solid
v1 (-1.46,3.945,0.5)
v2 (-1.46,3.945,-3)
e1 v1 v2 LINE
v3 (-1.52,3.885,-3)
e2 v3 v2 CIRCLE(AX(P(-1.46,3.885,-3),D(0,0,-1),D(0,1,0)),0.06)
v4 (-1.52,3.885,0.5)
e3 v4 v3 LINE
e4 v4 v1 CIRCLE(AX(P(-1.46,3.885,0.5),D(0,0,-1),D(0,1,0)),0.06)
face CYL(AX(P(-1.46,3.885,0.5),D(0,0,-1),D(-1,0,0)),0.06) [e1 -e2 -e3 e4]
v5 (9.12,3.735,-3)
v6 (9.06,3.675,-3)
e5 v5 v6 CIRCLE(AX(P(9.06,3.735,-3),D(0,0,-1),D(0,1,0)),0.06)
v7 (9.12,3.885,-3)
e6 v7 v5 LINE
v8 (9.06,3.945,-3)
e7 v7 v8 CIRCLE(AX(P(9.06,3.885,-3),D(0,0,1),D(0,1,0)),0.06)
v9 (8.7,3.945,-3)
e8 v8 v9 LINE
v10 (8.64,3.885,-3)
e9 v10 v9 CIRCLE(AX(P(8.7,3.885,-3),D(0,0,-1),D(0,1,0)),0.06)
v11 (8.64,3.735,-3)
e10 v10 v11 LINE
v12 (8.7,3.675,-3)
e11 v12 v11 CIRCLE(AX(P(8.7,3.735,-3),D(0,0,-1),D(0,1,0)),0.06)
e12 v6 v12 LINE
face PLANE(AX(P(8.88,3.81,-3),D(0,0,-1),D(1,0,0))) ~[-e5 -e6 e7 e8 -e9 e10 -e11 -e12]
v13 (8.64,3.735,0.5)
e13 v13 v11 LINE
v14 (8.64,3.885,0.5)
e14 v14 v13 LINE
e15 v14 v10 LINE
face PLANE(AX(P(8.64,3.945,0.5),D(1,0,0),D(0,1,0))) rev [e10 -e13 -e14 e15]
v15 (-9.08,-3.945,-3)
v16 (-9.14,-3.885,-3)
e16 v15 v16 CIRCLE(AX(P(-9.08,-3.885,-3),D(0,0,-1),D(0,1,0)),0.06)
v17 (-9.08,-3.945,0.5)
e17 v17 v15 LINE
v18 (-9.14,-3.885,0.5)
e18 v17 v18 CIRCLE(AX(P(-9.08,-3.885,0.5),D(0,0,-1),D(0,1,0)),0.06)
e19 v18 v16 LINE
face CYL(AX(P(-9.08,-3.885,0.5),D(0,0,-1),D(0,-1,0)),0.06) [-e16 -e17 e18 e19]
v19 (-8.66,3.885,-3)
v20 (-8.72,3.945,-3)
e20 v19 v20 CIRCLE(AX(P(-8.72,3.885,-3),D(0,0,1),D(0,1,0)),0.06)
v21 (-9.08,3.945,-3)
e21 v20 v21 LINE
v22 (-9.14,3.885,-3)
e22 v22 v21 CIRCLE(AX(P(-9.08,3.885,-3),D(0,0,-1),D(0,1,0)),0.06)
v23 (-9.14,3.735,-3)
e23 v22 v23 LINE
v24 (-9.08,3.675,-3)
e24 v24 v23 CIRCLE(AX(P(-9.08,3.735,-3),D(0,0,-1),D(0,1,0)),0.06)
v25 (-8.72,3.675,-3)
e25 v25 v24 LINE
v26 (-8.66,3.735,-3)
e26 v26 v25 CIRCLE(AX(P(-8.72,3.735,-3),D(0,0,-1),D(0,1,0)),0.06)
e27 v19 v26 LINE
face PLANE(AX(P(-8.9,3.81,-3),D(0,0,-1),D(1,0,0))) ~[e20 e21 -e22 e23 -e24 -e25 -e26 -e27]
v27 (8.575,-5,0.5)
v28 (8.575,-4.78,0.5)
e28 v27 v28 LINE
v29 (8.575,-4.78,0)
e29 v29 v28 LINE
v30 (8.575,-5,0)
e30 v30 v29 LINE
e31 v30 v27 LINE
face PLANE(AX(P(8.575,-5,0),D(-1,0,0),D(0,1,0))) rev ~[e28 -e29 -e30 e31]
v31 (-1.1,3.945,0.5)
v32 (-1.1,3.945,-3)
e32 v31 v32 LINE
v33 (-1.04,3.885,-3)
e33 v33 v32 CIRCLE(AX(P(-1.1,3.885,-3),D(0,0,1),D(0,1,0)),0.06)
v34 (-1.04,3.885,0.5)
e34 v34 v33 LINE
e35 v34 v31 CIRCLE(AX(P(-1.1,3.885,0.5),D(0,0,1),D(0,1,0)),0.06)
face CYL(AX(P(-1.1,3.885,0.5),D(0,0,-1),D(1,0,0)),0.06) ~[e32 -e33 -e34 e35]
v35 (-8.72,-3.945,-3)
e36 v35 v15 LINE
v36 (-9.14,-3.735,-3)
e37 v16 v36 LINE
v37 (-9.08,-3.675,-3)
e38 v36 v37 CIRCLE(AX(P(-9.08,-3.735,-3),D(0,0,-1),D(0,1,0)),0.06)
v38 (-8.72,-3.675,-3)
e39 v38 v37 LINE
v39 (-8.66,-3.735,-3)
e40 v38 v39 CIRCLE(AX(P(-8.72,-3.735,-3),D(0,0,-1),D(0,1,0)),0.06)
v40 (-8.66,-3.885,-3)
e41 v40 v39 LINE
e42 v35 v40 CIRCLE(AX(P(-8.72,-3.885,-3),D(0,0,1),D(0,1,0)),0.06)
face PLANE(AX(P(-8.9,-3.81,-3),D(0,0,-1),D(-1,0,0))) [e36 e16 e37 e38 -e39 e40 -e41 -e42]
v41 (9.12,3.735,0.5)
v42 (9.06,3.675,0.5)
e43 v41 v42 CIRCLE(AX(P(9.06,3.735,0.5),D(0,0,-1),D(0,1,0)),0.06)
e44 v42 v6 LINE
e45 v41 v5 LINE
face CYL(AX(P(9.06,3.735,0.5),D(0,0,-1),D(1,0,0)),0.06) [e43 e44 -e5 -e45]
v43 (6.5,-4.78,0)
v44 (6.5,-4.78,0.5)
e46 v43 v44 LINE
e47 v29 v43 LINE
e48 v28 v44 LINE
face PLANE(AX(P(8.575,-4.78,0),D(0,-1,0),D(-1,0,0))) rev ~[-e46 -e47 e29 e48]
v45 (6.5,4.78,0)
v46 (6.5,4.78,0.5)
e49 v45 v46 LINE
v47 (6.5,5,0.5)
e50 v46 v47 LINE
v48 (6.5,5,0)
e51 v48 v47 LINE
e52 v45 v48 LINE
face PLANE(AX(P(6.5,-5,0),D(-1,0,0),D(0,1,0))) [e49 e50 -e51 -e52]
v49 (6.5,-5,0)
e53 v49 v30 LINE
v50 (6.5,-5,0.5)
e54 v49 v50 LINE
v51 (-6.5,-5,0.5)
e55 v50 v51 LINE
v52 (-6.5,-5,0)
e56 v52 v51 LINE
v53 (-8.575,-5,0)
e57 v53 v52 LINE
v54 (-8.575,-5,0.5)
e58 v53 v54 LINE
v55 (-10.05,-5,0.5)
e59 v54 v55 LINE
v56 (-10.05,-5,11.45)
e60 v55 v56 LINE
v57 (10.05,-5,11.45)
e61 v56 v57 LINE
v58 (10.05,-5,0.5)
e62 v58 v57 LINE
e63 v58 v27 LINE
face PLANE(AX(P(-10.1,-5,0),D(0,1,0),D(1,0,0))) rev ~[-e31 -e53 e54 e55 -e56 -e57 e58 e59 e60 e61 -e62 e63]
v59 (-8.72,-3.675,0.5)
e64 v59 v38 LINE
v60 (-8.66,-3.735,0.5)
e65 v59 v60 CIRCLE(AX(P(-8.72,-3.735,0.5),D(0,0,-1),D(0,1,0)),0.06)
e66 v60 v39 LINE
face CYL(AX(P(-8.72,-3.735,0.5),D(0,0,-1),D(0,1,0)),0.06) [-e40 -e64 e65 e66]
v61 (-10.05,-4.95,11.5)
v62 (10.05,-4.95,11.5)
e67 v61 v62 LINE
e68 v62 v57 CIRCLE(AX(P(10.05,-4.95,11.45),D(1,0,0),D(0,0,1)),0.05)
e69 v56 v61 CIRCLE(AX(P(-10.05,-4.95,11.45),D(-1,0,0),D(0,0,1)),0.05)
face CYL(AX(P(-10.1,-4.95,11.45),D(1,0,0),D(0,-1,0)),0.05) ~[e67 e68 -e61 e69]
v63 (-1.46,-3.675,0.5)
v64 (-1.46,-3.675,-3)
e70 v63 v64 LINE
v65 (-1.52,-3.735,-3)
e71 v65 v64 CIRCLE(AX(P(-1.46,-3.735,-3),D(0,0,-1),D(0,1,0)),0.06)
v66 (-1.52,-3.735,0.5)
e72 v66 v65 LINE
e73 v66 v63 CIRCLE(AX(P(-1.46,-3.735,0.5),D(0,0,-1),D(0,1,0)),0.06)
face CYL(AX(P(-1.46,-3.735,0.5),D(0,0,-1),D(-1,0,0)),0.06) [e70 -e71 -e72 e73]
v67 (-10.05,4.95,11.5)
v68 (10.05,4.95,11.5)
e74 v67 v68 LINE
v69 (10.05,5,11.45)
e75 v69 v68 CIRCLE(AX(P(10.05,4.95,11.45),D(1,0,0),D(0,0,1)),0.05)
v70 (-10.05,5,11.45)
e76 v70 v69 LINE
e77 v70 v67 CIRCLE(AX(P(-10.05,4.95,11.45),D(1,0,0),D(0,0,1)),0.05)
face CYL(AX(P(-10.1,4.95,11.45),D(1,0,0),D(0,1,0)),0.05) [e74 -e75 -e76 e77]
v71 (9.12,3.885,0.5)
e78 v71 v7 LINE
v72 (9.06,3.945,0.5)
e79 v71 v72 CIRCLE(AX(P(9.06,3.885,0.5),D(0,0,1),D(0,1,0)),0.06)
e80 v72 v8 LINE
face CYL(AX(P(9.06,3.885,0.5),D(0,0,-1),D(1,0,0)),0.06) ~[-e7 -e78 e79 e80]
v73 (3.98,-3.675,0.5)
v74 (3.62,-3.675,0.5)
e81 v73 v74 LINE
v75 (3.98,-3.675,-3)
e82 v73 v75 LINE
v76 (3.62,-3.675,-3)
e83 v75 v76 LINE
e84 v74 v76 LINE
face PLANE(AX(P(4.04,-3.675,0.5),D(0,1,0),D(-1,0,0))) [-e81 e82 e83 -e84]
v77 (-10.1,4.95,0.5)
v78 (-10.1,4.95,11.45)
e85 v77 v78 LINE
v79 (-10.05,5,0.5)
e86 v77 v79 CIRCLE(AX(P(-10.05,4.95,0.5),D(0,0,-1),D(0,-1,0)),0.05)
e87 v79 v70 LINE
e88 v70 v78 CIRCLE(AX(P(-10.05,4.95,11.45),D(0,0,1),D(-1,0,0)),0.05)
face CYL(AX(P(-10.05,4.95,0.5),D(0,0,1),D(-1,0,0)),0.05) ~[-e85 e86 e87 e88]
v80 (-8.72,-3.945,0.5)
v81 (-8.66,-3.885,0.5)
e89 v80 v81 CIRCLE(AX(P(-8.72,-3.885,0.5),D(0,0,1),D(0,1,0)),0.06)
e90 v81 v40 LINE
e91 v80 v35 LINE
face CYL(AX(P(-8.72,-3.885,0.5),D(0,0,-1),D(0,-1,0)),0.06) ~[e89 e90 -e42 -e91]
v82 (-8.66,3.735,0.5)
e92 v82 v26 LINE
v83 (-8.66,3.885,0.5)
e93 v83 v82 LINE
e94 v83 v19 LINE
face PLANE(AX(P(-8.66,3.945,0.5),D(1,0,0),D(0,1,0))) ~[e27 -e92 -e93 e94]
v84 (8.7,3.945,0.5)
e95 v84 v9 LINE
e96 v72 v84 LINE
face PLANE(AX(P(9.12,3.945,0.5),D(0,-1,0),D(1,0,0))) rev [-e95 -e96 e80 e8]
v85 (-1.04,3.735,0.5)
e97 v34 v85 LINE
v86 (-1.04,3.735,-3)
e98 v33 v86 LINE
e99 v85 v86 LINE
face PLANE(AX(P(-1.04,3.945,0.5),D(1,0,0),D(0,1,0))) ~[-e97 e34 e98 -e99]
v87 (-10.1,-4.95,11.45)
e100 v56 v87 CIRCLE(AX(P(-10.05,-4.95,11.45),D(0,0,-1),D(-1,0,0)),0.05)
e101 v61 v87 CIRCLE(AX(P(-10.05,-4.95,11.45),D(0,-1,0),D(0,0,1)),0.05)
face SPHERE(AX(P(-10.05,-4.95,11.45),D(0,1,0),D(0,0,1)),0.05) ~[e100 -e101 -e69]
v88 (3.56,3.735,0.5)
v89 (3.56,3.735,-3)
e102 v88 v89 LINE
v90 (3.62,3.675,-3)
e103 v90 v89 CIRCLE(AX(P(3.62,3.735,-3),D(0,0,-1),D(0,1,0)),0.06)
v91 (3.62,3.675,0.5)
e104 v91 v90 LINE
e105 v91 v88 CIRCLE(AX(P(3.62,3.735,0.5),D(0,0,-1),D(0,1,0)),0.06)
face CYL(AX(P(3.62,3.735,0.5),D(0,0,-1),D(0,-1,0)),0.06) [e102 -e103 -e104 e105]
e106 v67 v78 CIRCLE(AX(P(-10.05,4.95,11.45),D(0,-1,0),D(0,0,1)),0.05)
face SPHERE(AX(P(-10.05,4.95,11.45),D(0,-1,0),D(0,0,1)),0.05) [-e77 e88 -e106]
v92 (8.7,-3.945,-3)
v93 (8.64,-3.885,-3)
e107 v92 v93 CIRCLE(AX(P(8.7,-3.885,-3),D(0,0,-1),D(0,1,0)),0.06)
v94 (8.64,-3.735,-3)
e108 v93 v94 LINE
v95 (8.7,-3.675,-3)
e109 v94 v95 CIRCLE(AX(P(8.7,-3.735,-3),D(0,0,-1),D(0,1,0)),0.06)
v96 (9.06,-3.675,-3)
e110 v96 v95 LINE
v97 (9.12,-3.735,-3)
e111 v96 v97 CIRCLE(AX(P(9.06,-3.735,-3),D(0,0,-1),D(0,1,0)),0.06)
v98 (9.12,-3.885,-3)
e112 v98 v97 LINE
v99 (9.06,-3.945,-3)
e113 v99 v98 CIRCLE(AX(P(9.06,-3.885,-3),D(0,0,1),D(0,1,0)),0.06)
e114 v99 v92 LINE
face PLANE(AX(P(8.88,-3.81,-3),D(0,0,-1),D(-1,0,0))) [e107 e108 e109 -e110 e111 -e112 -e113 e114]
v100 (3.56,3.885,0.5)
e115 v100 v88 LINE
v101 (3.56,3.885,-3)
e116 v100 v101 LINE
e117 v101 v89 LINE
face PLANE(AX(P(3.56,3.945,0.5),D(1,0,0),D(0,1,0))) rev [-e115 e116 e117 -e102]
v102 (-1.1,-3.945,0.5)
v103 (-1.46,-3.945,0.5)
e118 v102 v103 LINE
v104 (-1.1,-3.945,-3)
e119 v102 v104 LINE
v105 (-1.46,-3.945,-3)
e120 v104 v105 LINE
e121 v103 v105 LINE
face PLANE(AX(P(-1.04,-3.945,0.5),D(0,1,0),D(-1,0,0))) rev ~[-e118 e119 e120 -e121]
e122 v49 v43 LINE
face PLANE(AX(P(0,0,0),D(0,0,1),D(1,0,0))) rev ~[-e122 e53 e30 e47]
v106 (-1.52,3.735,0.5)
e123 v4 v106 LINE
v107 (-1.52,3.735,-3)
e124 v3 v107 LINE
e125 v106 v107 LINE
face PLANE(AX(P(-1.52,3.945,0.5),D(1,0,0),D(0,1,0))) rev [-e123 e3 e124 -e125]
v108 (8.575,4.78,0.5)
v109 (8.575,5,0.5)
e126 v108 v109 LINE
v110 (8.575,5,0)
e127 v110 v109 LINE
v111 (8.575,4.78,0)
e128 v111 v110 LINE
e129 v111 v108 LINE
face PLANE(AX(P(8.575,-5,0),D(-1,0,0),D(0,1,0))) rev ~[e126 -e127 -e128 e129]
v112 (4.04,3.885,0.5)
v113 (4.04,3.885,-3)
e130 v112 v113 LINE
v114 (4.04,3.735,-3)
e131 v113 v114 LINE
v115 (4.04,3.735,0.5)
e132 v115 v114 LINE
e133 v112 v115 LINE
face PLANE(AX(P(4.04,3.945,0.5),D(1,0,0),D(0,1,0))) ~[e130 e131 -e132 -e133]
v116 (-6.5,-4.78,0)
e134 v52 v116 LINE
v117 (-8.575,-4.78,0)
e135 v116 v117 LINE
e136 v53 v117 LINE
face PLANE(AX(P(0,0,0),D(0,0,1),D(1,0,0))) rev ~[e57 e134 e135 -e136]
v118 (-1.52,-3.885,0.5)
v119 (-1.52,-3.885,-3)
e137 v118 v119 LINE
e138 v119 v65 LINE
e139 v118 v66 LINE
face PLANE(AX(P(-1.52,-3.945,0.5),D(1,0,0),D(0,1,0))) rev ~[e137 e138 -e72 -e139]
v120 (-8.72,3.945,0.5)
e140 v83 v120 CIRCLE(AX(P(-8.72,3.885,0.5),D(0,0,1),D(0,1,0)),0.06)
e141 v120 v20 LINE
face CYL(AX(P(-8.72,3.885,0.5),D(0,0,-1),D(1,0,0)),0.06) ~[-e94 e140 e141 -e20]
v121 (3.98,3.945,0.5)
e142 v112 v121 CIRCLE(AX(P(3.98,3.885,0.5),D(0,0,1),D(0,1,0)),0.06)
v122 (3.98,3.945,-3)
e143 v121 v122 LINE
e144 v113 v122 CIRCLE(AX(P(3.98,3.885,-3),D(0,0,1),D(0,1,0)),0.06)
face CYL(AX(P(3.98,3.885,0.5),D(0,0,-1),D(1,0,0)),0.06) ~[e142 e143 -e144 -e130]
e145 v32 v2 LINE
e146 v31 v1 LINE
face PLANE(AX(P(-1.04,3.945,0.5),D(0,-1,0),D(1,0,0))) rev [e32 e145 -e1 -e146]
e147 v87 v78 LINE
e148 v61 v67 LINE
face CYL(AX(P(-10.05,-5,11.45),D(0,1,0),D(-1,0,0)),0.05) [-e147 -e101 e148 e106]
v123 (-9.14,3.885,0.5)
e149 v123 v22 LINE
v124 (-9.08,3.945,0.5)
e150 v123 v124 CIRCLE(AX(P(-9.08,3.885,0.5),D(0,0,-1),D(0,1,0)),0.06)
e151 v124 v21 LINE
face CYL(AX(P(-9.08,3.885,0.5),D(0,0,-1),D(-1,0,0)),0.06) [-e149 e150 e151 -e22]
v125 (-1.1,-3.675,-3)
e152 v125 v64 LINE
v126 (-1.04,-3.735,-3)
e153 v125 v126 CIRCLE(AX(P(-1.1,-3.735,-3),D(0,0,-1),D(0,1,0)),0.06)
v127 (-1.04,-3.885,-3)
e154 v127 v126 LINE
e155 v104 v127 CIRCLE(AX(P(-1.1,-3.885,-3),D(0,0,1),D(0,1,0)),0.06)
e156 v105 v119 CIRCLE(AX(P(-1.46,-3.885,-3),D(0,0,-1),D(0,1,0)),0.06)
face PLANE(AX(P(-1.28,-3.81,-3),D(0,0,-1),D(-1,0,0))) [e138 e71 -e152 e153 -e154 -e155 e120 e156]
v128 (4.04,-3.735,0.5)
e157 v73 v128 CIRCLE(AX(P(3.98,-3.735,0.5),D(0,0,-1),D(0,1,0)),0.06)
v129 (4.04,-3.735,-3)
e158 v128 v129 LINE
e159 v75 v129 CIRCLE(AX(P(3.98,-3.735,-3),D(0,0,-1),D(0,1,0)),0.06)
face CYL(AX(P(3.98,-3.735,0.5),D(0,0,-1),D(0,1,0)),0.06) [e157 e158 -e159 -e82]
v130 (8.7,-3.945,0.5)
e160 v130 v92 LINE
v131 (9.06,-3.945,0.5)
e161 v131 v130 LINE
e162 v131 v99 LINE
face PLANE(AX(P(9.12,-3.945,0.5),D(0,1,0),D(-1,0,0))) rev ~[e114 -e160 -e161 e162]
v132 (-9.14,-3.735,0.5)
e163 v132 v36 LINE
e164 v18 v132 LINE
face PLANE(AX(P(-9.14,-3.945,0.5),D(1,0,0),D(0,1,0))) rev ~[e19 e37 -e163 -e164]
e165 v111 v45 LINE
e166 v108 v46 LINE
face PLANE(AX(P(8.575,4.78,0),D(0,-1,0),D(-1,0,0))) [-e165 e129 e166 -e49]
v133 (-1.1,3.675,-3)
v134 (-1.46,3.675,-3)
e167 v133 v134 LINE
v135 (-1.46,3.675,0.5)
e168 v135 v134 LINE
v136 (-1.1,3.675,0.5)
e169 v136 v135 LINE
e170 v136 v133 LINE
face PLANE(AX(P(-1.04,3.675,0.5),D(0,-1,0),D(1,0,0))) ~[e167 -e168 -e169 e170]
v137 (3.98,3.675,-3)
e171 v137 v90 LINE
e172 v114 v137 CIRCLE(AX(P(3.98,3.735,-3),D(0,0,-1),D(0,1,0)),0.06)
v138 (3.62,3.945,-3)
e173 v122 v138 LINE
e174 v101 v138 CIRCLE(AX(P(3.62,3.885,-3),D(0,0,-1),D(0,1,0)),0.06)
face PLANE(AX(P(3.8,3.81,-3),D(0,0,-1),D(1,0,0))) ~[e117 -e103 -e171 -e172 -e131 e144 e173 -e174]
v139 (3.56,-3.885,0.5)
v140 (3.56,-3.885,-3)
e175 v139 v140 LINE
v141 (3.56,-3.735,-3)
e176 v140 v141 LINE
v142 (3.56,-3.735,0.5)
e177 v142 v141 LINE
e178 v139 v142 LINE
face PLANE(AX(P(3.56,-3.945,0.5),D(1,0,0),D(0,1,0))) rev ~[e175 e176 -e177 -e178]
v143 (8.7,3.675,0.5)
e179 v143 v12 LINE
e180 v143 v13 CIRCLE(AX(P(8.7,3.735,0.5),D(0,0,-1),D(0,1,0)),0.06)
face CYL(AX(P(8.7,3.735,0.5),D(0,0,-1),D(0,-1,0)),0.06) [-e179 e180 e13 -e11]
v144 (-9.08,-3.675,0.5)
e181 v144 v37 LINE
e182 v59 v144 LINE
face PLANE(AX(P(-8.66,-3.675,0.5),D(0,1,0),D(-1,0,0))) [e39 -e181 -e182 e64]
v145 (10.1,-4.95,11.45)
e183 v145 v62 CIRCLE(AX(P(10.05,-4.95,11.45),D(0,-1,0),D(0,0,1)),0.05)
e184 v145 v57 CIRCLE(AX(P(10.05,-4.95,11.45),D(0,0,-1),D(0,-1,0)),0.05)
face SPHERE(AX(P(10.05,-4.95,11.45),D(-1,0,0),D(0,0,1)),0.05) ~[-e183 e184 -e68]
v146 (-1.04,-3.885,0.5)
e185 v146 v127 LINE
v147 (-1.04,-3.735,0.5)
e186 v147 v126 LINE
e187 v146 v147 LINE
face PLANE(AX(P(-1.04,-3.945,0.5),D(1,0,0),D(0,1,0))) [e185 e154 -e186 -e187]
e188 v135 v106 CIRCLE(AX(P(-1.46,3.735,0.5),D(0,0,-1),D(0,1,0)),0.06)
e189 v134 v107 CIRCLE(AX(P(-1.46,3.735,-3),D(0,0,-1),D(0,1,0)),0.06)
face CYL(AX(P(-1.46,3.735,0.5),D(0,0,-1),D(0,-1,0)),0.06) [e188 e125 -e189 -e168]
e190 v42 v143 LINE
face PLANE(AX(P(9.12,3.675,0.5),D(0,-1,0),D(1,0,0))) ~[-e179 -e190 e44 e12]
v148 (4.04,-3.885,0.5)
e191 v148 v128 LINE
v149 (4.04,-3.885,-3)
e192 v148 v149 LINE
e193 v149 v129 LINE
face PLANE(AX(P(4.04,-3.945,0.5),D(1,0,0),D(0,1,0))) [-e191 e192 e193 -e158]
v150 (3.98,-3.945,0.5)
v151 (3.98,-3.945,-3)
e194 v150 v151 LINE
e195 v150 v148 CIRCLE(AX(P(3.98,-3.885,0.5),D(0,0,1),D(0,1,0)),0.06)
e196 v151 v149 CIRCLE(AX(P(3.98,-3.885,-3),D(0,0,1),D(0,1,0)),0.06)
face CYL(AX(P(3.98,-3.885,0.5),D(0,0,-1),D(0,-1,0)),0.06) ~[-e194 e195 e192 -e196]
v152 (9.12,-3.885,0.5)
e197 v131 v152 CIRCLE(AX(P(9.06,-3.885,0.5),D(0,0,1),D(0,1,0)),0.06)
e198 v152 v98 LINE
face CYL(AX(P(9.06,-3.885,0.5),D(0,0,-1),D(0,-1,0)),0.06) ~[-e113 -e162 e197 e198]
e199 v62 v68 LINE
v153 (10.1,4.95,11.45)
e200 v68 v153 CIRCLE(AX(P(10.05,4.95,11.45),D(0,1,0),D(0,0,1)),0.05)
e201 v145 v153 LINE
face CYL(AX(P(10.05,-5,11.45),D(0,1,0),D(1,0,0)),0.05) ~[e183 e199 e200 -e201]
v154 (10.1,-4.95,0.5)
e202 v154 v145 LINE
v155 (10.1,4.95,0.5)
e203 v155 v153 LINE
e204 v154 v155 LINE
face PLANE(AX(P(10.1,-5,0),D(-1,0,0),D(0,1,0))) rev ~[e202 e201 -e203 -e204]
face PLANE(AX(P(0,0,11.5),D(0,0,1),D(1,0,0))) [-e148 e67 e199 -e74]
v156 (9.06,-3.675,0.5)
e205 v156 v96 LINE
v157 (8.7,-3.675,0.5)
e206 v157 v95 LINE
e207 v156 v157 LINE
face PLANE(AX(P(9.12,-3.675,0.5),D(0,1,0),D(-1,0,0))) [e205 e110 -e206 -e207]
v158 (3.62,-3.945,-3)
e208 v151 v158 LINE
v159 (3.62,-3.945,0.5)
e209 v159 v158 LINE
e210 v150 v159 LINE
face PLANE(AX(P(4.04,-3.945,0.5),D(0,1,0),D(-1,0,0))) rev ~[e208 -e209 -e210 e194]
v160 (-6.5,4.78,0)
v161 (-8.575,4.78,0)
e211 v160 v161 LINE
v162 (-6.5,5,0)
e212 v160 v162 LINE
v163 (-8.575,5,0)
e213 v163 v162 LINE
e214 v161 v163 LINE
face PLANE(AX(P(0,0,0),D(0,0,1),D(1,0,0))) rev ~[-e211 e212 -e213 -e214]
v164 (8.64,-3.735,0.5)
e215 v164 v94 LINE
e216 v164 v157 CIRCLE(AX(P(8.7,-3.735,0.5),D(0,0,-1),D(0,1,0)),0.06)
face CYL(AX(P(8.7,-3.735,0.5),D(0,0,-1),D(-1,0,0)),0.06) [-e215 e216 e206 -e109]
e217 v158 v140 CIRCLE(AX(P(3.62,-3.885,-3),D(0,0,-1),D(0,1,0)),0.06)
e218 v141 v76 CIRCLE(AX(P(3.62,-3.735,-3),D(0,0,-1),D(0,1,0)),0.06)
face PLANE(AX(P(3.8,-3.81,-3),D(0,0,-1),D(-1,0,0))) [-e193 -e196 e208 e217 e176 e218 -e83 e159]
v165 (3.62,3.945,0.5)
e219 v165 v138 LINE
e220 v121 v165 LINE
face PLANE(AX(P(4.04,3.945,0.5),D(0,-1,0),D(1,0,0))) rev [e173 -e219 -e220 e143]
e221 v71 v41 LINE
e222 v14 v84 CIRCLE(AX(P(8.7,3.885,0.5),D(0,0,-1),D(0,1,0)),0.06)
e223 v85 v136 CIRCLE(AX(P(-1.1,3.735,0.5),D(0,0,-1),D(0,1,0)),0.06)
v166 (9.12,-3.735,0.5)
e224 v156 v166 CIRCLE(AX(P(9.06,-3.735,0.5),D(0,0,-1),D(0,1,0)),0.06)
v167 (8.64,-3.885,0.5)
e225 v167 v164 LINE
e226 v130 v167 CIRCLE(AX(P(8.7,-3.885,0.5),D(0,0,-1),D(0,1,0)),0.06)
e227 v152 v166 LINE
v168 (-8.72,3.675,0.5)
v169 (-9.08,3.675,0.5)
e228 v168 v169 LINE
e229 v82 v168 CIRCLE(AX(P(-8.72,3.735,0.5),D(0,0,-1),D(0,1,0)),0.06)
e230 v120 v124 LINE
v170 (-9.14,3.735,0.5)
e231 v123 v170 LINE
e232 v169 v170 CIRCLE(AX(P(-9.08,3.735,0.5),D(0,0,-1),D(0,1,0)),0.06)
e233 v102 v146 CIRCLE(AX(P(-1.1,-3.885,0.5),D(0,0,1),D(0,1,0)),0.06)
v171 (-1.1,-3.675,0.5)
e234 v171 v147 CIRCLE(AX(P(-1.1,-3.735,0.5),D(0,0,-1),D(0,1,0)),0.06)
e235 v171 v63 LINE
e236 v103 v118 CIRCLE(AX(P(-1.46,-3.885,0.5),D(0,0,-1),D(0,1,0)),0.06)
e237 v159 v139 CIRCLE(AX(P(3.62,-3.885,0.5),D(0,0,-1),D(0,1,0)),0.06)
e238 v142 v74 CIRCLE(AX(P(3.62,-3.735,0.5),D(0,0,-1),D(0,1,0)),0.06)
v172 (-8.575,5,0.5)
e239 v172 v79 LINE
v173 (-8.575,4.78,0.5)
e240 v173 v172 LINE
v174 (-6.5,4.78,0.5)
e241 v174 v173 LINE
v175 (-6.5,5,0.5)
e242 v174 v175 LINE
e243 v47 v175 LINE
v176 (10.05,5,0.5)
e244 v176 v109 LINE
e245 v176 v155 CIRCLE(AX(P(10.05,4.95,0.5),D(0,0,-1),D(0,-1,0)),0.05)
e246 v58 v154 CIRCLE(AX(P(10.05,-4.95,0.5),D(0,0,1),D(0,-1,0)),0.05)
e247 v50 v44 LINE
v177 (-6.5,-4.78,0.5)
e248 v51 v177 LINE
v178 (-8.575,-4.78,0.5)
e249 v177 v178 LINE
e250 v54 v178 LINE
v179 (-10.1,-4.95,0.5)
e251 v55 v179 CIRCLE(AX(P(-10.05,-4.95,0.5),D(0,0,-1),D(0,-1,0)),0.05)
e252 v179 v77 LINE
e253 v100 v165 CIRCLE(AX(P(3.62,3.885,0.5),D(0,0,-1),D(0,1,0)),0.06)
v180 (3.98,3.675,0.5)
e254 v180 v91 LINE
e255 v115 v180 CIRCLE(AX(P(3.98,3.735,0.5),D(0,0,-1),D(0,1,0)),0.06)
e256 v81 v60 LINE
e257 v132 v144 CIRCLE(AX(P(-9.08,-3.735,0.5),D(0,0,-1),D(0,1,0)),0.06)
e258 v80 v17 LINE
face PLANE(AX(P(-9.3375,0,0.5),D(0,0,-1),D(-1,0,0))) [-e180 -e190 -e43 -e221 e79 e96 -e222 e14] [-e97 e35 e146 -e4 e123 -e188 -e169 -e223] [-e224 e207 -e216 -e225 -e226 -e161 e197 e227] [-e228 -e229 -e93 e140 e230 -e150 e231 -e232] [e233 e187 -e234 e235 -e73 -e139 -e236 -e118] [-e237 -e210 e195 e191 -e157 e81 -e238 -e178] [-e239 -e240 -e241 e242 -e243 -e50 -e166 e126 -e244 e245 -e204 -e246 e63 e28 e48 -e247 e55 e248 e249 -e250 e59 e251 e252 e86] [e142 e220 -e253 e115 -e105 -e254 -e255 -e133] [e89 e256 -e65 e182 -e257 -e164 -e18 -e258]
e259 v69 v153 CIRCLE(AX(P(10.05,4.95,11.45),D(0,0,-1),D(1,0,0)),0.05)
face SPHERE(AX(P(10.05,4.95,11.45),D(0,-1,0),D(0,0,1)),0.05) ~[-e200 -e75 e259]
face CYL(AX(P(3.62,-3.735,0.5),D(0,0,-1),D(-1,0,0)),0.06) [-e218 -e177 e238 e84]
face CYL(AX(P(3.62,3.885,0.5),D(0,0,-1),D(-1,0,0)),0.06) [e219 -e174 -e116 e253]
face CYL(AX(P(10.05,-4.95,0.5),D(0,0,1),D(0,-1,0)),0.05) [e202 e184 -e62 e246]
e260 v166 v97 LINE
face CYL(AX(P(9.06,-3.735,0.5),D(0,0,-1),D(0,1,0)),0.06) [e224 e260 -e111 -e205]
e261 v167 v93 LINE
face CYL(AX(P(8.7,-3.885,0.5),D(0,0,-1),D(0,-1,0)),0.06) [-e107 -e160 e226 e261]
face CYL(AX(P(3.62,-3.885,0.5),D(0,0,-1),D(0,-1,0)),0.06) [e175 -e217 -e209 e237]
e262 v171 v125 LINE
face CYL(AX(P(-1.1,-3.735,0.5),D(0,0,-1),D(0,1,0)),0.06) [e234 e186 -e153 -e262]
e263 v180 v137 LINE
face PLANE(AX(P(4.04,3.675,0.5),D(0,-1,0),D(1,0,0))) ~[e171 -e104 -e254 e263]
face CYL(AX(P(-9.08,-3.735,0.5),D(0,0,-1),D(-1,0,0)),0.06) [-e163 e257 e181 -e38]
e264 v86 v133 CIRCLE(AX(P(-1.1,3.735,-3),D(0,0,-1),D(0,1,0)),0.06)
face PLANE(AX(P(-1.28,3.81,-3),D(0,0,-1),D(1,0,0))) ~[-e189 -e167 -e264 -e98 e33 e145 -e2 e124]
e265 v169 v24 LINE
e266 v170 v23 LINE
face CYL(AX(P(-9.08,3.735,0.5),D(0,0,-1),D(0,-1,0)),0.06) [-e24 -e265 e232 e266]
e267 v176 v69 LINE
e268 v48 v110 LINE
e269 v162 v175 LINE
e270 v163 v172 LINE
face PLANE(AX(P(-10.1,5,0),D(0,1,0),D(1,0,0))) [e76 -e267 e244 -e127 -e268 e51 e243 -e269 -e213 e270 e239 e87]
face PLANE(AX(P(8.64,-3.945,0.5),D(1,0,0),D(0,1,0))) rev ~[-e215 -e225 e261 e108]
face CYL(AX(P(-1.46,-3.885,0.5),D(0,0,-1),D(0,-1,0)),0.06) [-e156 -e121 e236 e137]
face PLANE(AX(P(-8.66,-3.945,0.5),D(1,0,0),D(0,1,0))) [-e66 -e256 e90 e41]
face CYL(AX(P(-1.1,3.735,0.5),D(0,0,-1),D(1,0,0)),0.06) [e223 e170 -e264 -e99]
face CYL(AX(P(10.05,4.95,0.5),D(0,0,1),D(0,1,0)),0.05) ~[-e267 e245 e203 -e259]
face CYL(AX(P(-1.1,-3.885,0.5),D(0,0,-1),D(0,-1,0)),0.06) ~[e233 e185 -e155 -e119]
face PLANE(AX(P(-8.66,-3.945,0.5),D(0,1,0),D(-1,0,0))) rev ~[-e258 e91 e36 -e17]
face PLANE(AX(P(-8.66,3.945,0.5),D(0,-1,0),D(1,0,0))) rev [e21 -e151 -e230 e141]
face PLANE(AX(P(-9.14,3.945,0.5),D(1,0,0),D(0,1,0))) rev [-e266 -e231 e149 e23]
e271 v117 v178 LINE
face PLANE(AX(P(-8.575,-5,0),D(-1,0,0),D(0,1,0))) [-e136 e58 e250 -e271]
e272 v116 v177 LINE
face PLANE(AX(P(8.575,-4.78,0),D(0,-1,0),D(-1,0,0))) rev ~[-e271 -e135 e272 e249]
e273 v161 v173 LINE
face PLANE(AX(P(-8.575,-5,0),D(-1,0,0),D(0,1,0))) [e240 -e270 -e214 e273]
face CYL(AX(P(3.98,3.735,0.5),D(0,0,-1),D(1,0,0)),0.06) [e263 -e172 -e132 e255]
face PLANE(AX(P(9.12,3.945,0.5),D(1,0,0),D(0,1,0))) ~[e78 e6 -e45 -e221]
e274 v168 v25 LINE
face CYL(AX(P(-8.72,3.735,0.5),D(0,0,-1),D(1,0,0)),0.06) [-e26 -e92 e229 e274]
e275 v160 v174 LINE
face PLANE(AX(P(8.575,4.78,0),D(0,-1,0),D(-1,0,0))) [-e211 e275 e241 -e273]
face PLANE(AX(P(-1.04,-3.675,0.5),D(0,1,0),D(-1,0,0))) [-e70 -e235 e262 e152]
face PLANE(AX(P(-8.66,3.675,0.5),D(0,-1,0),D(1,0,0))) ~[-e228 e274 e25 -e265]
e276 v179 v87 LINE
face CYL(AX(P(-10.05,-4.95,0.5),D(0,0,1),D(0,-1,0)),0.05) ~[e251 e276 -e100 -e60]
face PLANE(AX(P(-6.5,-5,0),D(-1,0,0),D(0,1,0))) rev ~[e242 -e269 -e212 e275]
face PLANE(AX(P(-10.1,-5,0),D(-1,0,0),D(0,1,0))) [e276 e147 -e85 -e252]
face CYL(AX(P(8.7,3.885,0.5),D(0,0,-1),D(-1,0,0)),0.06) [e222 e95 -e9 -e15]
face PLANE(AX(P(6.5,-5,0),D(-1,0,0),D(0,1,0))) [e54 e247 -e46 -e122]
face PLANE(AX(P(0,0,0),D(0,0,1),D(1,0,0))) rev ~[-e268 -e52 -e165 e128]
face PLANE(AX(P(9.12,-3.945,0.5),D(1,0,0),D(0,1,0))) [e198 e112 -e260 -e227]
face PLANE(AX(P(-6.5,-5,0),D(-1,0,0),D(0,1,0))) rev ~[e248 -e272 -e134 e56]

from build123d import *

# Parameters (mm, degrees)
SKETCH1_W            = 20.2
SKETCH1_H            = 10
BOSS_EXTRUDE1_DEPTH  = 11.5
SKETCH2_W            = 13
SKETCH2_H            = 10
SKETCH2_W_2          = 1.525
CUT_EXTRUDE1_DEPTH   = 0.5
SKETCH3_W            = 17.15
SKETCH3_H            = 9.56
CUT_EXTRUDE2_DEPTH   = 0.5
SKETCH4_W            = 0.48
SKETCH4_H            = 0.27
BOSS_EXTRUDE2_DEPTH  = 3.5
FILLET1_R            = 0.06
FILLET1_OF_MIRROR1_R = 0.06
FILLET2_R            = 0.05


with BuildPart() as part:
    # Sketch1 → Boss-Extrude1 (new body)
    with BuildSketch(Plane.XY):
        Rectangle(SKETCH1_W, SKETCH1_H)
    extrude(amount=BOSS_EXTRUDE1_DEPTH)

    # Sketch2 → Cut-Extrude1 (cut)
    with BuildSketch(Plane(origin=(0, 0, 0), x_dir=(-1, 0, 0), z_dir=(0, 0, -1))):
        Rectangle(SKETCH2_W, SKETCH2_H)
        with Locations((-9.3375, 0)):
            Rectangle(SKETCH2_W_2, SKETCH2_H)
        with Locations((9.3375, 0)):
            Rectangle(SKETCH2_W_2, SKETCH2_H)
    extrude(amount=-CUT_EXTRUDE1_DEPTH, mode=Mode.SUBTRACT)

    # Sketch3 → Cut-Extrude2 (cut)
    with BuildSketch(Plane(origin=(0, 0, 0), x_dir=(-1, 0, 0), z_dir=(0, 0, -1))):
        Rectangle(SKETCH3_W, SKETCH3_H)
    extrude(amount=-CUT_EXTRUDE2_DEPTH, mode=Mode.SUBTRACT)

    # Sketch4 → Boss-Extrude2 (add)
    with BuildSketch(Plane(origin=(0, 0, 0.5), x_dir=(-1, 0, 0), z_dir=(0, 0, -1))):
        with Locations((8.9, -3.81)):
            Rectangle(SKETCH4_W, SKETCH4_H)
        with Locations((1.28, -3.81)):
            Rectangle(SKETCH4_W, SKETCH4_H)
        with Locations((-3.8, -3.81)):
            Rectangle(SKETCH4_W, SKETCH4_H)
        with Locations((-8.88, -3.81)):
            Rectangle(SKETCH4_W, SKETCH4_H)
    boss_extrude2 = extrude(amount=BOSS_EXTRUDE2_DEPTH)

    # Fillet1
    fillet1_edges = [part.edges().sort_by_distance(p)[0] for p in [
        (-1.52, -3.675, -1.25),
        (-1.52, -3.945, -1.25),
        (-1.04, -3.945, -1.25),
        (-1.04, -3.675, -1.25),
        (3.56, -3.675, -1.25),
        (3.56, -3.945, -1.25),
        (4.04, -3.945, -1.25),
        (4.04, -3.675, -1.25),
        (8.64, -3.675, -1.25),
        (8.64, -3.945, -1.25),
        (9.12, -3.945, -1.25),
        (9.12, -3.675, -1.25),
        (-9.14, -3.675, -1.25),
        (-9.14, -3.945, -1.25),
        (-8.66, -3.945, -1.25),
        (-8.66, -3.675, -1.25),
    ]]
    fillet(fillet1_edges, radius=FILLET1_R)

    # Mirror1: Boss-Extrude2 across plane
    add(boss_extrude2.mirror(Plane.ZX))

    # Fillet1 of Mirror1
    fillet1_of_mirror1_edges = [part.edges().sort_by_distance(p)[0] for p in [
        (-1.52, 3.675, -1.25),
        (-1.52, 3.945, -1.25),
        (-1.04, 3.945, -1.25),
        (-1.04, 3.675, -1.25),
        (3.56, 3.675, -1.25),
        (3.56, 3.945, -1.25),
        (4.04, 3.945, -1.25),
        (4.04, 3.675, -1.25),
        (8.64, 3.675, -1.25),
        (8.64, 3.945, -1.25),
        (9.12, 3.945, -1.25),
        (9.12, 3.675, -1.25),
        (-9.14, 3.675, -1.25),
        (-9.14, 3.945, -1.25),
        (-8.66, 3.945, -1.25),
        (-8.66, 3.675, -1.25),
    ]]
    fillet(fillet1_of_mirror1_edges, radius=FILLET1_OF_MIRROR1_R)

    # Fillet2
    fillet2_edges = [part.edges().sort_by_distance(p)[0] for p in [
        (-10.1, 0, 11.5),
        (0, -5, 11.5),
        (10.1, 0, 11.5),
        (0, 5, 11.5),
        (10.1, -5, 6),
        (-10.1, -5, 6),
        (-10.1, 5, 6),
        (10.1, 5, 6),
    ]]
    fillet(fillet2_edges, radius=FILLET2_R)


solid = part.part
